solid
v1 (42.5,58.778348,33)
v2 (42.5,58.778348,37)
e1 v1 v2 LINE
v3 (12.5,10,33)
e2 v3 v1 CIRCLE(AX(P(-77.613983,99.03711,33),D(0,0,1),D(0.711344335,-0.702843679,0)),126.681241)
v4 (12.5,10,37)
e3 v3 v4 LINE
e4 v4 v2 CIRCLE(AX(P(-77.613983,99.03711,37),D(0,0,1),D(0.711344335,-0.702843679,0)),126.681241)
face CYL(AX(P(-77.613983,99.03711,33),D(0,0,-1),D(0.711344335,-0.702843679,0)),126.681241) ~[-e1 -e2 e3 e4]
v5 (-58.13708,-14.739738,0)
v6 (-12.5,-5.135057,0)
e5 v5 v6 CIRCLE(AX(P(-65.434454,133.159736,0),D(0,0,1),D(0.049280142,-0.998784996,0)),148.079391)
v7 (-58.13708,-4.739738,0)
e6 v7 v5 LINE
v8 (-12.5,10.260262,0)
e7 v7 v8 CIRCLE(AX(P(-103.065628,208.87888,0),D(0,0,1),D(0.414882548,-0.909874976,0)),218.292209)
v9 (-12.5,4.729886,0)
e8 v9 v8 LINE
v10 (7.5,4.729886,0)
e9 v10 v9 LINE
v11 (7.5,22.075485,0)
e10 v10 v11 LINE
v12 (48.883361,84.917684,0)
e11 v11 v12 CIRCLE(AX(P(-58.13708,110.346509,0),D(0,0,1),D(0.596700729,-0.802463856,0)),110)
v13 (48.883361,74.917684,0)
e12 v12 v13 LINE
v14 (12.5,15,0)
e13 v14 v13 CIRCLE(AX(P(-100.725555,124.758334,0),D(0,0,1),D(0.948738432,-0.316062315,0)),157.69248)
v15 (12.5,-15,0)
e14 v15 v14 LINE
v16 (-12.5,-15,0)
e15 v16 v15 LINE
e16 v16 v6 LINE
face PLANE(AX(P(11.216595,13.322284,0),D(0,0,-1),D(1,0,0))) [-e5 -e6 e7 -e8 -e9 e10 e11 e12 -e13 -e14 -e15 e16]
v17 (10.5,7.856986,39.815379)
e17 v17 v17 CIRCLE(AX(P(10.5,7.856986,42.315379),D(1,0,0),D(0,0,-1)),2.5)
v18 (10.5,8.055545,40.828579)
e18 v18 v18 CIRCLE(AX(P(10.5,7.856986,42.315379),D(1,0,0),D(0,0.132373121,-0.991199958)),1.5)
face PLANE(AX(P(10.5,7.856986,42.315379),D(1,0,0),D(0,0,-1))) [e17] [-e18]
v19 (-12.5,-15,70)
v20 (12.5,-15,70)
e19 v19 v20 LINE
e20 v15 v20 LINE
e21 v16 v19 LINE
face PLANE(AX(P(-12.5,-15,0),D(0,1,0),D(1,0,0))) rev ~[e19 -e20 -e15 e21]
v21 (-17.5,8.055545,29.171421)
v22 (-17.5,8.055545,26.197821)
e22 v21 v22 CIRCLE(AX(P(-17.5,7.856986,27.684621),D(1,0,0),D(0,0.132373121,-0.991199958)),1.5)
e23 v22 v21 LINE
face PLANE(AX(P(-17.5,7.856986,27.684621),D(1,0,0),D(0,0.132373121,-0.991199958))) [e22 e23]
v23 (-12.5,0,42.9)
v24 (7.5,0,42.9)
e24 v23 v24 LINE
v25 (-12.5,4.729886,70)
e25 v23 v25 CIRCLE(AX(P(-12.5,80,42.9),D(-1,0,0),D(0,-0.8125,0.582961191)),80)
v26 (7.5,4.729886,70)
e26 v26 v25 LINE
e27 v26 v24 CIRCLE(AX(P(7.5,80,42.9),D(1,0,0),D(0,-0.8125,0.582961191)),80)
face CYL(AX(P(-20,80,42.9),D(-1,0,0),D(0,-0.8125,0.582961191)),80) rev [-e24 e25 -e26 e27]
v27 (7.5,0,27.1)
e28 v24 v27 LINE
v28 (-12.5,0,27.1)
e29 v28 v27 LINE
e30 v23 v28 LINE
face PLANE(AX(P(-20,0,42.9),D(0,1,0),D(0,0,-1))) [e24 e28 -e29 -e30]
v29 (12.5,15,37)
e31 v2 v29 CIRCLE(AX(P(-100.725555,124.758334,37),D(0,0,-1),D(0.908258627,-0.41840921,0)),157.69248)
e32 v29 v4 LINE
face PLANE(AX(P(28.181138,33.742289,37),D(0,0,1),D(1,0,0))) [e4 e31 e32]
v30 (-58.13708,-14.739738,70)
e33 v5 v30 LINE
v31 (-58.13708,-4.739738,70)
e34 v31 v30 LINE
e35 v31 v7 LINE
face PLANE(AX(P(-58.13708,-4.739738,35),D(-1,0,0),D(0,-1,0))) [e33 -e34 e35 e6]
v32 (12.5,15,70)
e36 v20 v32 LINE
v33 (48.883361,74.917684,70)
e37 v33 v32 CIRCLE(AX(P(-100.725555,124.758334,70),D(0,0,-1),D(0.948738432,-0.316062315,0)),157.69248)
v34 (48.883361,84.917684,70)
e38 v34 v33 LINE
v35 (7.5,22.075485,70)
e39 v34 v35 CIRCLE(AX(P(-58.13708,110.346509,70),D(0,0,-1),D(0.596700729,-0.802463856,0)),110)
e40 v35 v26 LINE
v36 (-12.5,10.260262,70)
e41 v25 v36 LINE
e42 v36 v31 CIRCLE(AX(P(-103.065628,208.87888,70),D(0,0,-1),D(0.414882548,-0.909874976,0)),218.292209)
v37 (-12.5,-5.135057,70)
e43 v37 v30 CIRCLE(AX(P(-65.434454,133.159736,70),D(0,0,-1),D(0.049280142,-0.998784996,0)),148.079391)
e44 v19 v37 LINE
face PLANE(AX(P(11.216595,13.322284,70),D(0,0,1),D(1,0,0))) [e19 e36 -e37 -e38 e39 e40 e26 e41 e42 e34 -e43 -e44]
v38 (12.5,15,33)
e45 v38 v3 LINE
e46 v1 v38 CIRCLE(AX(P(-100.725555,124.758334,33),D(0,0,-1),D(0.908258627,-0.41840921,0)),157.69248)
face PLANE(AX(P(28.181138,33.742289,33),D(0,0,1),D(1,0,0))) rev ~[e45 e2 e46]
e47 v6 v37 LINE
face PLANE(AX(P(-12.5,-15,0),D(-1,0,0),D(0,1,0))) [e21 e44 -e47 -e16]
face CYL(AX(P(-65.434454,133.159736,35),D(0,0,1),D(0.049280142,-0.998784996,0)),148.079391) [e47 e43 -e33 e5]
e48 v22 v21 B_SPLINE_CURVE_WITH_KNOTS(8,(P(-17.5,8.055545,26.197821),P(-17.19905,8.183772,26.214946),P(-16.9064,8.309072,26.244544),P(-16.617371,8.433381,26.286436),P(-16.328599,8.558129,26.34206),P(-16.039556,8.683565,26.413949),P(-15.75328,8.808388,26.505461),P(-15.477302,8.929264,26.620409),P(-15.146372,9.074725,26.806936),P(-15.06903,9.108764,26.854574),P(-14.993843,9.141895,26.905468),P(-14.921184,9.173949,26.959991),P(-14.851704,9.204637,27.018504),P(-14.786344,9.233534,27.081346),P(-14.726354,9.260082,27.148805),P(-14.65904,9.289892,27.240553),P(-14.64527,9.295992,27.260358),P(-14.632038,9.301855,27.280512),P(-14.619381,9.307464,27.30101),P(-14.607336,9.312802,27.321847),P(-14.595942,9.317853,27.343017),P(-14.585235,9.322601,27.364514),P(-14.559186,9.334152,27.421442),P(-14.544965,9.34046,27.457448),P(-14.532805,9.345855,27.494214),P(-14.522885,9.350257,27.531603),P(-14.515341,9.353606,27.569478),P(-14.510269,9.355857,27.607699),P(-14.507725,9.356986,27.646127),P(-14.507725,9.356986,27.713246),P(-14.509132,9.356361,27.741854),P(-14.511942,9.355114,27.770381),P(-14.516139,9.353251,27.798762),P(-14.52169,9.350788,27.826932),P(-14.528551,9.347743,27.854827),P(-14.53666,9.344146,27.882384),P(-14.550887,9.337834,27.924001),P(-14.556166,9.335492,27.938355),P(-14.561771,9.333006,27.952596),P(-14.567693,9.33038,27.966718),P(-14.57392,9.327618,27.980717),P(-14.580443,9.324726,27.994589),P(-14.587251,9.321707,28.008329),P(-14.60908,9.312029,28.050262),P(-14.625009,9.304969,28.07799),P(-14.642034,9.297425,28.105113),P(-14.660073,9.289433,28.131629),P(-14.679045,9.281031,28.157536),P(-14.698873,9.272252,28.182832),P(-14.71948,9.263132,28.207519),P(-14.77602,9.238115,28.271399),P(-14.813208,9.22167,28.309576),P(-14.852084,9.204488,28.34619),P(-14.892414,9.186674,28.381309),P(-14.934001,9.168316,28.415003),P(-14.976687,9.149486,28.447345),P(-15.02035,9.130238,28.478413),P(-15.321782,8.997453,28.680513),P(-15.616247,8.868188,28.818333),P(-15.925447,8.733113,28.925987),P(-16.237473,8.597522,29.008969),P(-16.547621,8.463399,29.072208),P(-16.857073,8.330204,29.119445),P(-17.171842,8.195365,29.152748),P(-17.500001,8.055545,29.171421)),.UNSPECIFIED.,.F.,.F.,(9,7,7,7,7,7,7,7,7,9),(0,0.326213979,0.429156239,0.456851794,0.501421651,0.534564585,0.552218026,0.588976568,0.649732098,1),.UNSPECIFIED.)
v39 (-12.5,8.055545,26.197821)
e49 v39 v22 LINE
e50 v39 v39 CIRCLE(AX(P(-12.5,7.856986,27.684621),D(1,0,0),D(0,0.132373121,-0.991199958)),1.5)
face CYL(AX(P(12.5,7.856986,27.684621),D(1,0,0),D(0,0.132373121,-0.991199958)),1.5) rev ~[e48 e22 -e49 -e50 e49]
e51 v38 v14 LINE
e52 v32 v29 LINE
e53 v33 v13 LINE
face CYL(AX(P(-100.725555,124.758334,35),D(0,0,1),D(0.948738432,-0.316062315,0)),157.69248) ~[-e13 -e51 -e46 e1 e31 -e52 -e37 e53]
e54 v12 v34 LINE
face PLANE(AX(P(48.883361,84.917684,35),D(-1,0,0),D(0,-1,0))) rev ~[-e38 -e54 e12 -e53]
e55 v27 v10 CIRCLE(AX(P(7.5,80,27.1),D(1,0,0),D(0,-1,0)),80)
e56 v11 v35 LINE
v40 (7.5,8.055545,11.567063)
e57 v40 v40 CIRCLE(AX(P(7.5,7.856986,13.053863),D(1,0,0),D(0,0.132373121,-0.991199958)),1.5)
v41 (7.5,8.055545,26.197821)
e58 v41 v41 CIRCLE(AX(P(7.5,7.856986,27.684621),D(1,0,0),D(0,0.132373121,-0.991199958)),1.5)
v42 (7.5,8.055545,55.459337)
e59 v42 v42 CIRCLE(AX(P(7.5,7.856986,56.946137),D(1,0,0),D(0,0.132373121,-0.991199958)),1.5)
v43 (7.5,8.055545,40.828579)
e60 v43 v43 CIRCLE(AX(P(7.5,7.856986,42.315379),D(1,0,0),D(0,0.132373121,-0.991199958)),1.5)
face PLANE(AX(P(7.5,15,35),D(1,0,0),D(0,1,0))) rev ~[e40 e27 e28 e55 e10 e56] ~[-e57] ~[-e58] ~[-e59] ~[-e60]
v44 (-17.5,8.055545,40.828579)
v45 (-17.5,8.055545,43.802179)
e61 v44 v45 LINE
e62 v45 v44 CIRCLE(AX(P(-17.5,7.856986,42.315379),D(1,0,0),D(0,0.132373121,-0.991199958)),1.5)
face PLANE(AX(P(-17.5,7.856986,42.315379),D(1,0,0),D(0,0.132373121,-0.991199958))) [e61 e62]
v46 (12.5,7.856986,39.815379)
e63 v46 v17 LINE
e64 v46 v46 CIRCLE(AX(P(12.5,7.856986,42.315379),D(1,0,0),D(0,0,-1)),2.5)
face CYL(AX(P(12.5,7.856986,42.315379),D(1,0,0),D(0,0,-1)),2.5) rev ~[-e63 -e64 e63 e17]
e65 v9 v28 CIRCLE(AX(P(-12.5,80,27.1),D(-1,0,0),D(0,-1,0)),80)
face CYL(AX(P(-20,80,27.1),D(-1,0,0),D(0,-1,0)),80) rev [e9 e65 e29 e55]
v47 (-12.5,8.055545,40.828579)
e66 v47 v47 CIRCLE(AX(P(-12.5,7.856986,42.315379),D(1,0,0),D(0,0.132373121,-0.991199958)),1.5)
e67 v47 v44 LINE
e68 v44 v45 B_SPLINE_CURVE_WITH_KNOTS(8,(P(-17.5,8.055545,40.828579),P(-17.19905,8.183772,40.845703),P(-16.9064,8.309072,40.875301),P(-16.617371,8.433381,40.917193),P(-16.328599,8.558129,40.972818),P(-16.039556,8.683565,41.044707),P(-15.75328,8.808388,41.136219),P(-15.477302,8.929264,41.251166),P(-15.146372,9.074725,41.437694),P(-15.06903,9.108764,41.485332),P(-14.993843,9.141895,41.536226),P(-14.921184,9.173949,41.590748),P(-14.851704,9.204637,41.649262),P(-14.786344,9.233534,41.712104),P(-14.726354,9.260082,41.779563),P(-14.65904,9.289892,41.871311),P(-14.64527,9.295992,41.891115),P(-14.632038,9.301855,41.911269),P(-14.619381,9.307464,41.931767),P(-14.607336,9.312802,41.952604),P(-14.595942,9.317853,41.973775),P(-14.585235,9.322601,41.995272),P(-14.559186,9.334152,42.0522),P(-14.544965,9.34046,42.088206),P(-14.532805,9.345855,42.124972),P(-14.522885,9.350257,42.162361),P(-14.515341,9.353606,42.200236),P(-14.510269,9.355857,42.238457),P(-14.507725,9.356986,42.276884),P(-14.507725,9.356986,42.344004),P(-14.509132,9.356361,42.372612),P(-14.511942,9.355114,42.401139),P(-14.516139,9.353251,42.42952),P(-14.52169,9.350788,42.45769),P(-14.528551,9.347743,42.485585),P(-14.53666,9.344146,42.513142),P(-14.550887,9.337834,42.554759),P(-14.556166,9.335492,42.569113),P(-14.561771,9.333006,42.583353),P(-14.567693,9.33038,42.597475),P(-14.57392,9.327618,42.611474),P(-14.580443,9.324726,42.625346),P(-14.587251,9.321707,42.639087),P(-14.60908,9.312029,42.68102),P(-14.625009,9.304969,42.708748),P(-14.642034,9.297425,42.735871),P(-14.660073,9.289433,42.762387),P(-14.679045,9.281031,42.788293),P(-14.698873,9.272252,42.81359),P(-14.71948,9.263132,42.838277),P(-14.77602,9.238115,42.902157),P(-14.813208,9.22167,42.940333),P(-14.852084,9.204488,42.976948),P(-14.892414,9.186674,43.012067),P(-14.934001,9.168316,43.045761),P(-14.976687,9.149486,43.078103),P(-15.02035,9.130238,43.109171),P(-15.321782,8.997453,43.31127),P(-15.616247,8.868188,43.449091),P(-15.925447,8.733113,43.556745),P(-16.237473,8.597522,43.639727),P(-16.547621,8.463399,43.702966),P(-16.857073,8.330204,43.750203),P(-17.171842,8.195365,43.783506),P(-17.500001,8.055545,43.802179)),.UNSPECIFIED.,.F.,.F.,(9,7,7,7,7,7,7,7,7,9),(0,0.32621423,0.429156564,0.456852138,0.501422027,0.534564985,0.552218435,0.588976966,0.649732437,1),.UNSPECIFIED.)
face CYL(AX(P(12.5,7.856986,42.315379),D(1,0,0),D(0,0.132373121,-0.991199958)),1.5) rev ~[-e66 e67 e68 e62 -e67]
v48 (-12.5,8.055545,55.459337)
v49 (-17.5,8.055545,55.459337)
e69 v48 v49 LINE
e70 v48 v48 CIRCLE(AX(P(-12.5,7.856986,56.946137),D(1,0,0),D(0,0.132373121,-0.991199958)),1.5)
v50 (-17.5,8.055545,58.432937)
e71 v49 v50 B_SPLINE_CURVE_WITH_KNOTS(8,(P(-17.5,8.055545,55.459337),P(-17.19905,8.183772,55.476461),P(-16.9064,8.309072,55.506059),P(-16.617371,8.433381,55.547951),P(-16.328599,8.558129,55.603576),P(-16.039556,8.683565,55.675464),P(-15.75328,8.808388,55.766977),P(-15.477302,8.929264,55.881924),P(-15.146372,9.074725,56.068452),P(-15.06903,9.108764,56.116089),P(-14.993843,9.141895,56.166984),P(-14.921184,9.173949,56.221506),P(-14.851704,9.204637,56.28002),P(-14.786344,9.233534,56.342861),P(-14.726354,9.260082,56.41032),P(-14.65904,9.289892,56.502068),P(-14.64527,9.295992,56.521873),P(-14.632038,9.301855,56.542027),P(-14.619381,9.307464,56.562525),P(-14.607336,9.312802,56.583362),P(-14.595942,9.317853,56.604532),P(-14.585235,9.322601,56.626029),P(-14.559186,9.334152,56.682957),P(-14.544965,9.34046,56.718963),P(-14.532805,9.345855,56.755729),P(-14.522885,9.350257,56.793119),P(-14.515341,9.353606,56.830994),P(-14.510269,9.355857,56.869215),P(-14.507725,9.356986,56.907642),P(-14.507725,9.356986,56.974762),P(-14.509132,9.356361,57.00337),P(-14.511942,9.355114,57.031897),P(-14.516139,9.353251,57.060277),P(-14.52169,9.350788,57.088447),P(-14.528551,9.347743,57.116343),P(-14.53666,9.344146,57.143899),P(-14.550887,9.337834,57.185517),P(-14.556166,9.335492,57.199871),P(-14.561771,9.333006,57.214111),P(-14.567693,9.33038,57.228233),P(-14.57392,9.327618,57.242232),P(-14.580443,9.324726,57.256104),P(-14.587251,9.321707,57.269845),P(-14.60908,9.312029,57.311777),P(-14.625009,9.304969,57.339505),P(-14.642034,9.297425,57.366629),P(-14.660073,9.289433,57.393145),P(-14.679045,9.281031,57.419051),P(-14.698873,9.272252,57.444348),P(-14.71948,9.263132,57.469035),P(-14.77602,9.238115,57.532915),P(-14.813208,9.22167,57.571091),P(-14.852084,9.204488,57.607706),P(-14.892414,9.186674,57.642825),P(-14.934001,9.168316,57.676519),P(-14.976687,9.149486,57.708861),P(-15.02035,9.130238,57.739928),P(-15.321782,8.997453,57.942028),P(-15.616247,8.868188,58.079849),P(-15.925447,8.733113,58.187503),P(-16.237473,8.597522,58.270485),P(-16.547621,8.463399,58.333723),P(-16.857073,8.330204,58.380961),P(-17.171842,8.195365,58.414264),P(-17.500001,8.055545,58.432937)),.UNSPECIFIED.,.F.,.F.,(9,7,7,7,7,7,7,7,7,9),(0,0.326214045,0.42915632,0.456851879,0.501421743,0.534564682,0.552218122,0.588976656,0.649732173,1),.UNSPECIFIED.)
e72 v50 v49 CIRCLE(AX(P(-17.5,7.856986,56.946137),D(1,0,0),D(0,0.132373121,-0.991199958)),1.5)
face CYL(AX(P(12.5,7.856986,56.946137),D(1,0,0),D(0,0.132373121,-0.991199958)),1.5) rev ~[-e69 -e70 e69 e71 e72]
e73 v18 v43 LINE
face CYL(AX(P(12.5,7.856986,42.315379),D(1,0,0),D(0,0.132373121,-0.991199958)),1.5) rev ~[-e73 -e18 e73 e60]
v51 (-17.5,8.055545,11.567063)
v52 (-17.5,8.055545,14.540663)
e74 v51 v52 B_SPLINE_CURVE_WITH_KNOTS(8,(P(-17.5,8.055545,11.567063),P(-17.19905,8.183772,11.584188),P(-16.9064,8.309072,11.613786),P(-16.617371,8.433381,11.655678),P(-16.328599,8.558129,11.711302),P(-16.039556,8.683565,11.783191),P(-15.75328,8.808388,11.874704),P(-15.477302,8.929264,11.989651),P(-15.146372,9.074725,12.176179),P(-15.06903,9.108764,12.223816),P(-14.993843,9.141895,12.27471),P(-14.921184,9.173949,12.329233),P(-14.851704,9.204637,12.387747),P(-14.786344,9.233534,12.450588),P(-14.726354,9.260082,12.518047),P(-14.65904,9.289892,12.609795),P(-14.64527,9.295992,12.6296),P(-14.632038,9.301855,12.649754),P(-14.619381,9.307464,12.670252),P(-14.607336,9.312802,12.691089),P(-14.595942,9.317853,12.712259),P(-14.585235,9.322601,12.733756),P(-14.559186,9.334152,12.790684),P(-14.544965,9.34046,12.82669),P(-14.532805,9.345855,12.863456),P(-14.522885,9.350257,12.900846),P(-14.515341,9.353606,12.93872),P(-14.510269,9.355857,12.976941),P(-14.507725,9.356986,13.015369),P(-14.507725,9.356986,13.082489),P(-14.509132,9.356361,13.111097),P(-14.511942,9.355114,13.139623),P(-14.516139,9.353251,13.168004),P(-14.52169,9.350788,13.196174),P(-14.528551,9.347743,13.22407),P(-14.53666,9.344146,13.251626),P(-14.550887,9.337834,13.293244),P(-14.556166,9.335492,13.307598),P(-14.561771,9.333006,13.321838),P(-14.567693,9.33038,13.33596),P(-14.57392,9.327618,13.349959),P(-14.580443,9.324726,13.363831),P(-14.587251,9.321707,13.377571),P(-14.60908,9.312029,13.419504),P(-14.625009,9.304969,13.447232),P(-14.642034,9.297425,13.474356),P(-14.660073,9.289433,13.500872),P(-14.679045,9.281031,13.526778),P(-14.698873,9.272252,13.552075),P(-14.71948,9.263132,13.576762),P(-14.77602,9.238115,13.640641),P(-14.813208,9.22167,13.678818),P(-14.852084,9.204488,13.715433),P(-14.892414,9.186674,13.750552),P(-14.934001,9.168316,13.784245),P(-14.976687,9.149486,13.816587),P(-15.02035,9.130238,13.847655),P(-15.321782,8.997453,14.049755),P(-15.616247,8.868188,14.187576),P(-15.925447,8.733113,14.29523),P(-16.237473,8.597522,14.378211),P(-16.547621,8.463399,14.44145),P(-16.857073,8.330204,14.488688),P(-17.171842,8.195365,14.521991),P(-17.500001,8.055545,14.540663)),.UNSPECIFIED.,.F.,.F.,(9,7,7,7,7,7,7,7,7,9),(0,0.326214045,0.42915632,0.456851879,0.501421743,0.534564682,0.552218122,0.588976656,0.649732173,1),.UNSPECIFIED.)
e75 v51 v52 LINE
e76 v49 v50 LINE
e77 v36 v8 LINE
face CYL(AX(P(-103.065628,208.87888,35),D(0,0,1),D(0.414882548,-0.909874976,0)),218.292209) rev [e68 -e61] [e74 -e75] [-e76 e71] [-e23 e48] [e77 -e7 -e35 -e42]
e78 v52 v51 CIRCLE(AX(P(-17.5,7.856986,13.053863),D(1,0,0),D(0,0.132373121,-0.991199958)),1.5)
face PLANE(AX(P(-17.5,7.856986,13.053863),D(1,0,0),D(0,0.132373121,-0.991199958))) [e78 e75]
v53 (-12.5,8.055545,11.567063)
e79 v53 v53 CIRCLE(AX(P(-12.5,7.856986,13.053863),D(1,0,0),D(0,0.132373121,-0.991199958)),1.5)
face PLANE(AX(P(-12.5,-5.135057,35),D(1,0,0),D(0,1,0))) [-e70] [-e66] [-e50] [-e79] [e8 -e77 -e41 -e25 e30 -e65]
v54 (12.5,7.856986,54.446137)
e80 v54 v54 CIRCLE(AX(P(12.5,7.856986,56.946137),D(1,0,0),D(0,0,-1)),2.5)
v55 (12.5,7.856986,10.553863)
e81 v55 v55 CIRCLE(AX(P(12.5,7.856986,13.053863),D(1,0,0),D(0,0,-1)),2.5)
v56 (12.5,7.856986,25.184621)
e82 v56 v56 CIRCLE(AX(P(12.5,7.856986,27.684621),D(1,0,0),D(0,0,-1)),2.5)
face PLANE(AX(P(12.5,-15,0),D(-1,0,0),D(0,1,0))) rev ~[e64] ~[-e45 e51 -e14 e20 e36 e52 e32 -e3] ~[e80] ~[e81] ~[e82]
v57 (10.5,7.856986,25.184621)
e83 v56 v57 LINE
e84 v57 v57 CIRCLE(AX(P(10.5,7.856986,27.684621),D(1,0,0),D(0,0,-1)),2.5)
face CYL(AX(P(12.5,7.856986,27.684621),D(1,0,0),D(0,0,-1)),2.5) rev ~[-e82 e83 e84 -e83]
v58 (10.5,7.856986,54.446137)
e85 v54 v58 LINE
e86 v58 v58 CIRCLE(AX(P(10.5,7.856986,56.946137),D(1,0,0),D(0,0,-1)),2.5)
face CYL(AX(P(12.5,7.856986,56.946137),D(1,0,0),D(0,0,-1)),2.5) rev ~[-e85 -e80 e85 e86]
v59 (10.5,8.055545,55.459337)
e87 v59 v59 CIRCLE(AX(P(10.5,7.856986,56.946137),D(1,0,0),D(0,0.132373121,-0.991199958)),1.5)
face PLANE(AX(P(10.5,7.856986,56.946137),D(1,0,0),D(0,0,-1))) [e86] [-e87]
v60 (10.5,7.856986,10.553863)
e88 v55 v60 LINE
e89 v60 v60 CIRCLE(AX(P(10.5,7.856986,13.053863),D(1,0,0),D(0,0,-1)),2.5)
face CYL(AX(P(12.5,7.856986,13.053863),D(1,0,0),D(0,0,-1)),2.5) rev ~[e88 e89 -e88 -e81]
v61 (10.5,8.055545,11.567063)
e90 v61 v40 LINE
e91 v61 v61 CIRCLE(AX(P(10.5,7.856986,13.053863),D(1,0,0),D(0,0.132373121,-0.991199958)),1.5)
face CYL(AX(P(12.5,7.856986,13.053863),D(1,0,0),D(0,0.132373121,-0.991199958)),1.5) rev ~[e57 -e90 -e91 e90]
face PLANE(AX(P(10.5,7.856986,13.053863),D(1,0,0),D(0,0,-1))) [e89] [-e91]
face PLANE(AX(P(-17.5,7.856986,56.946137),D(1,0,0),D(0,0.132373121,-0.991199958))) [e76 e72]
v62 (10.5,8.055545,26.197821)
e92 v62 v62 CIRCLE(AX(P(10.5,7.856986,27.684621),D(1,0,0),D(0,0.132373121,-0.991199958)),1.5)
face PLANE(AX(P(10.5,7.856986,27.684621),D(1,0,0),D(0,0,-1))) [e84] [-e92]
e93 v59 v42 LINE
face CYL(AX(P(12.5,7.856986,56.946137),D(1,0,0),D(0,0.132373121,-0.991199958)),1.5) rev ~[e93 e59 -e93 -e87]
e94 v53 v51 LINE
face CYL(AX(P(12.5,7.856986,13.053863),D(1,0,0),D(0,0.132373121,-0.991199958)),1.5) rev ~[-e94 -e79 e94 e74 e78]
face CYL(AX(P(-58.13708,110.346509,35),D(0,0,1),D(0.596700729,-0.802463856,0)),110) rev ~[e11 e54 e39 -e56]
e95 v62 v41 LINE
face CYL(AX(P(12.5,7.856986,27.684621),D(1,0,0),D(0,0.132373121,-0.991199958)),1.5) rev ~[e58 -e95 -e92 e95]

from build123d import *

# Parameters (mm, degrees)
SKETCH_1_W                  = 25
SKETCH_1_H                  = 30
EXTRUDE_1_DEPTH             = 70
CUT_EXTRUDE_1_DEPTH         = 7.5
CUT_EXTRUDE_1_DEPTH_BACK    = 20
EXTRUDE_2_REACH             = 42.078
EXTRUDE_2_DIRECTION_2_REACH = 42.078
EXTRUDE_3_DEPTH             = 2
EXTRUDE_3_DEPTH_BACK        = 2
EXTRUDE_4_REACH             = 106.046
EXTRUDE_4_DIRECTION_2_REACH = 106.046
SKETCH_7_R                  = 1.5
CUT_EXTRUDE_2_DEPTH         = 30
SKETCH_8_R                  = 2.5
CUT_EXTRUDE_3_DEPTH         = 2


with BuildPart() as part:
    # 草图1 → 凸台-拉伸1 (new body)
    with BuildSketch(Plane.XY):
        Rectangle(SKETCH_1_W, SKETCH_1_H)
    extrude(amount=EXTRUDE_1_DEPTH)

    # 草图2 → 切除-拉伸1 (cut, two sides: drawn at the far end of the back side and taken through both)
    with BuildSketch(Plane(origin=(0, 0, 0), x_dir=(0, 0, -1), z_dir=(1, 0, 0)).offset(-CUT_EXTRUDE_1_DEPTH_BACK)):
        with BuildLine():
            Line((-42.9, 0), (-27.1, 0))
            ThreePointArc((-27.1, 0), (-2.605102572, 3.842268941), (19.536895265, 15))
            Line((19.536895265, 15), (-89.536895265, 15))
            ThreePointArc((-89.536895265, 15), (-67.394897428, 3.842268941), (-42.9, 0))
        make_face()
    extrude(amount=CUT_EXTRUDE_1_DEPTH + CUT_EXTRUDE_1_DEPTH_BACK, mode=Mode.SUBTRACT)

    # 凸台-拉伸2: up to this face of the body (flat: up to its plane)
    extrude_2_end = Plane(part.part.faces().sort_by_distance((0.942908229, -3.720694452, 70))[0])
    # 草图4 → 凸台-拉伸2 (add, up to the picked face)
    with BuildSketch(Plane.XY.offset(35), mode=Mode.PRIVATE) as extrude_2_sk1:
        with BuildLine():
            Line((48.883360942, 84.917683668), (48.883360942, 74.917683668))
            ThreePointArc((48.883360942, 74.917683668), (34.063250103, 42.911549159), (12.5, 15))
            Line((12.5, 15), (7.5, 15))
            Line((7.5, 15), (7.5, 22.075485157))
            ThreePointArc((7.5, 22.075485157), (33.732068033, 49.84808287), (48.883360942, 84.917683668))
        make_face()
    extrude_2_tool1 = split(extrude(extrude_2_sk1.sketch, amount=EXTRUDE_2_REACH, mode=Mode.PRIVATE), bisect_by=extrude_2_end, keep=Keep.BOTH, mode=Mode.PRIVATE)
    add(extrude_2_tool1.solids().sort_by(Axis((27.062711, 39.609343, 35), (0, 0, 1)))[0])

    # 凸台-拉伸2 direction 2: up to this face of the body (flat: up to its plane)
    extrude_2_direction_2_end = Plane(part.part.faces().sort_by_distance((0.942908229, -3.720694452, 0))[0])
    # 草图4 → 凸台-拉伸2 direction 2 (add, up to the picked face)
    with BuildSketch(Plane.XY.offset(35), mode=Mode.PRIVATE) as extrude_2_direction_2_sk1:
        with BuildLine():
            Line((48.883360942, 84.917683668), (48.883360942, 74.917683668))
            ThreePointArc((48.883360942, 74.917683668), (34.063250103, 42.911549159), (12.5, 15))
            Line((12.5, 15), (7.5, 15))
            Line((7.5, 15), (7.5, 22.075485157))
            ThreePointArc((7.5, 22.075485157), (33.732068033, 49.84808287), (48.883360942, 84.917683668))
        make_face()
    extrude_2_direction_2_tool1 = split(extrude(extrude_2_direction_2_sk1.sketch, amount=-EXTRUDE_2_DIRECTION_2_REACH, mode=Mode.PRIVATE), bisect_by=extrude_2_direction_2_end, keep=Keep.BOTH, mode=Mode.PRIVATE)
    add(extrude_2_direction_2_tool1.solids().sort_by(Axis((27.062711, 39.609343, 35), (0, 0, -1)))[0])

    # 草图5 → 凸台-拉伸3 (add, two sides: drawn at the far end of the back side and taken through both)
    with BuildSketch(Plane.XY.offset(35).offset(-EXTRUDE_3_DEPTH_BACK)):
        with BuildLine():
            Line((12.5, 15), (12.5, 10))
            ThreePointArc((12.5, 10), (30.292370974, 32.671790499), (42.5, 58.778347968))
            ThreePointArc((42.5, 58.778347968), (29.354915832, 35.618055325), (12.5, 15))
        make_face()
    extrude(amount=EXTRUDE_3_DEPTH + EXTRUDE_3_DEPTH_BACK)

    # 凸台-拉伸4: up to this face of the body (flat: up to its plane)
    extrude_4_end = Plane(part.part.faces().sort_by_distance((11.216595333, 13.322284496, 70))[0])
    # 草图6 → 凸台-拉伸4 (add, up to the picked face)
    with BuildSketch(Plane.XY.offset(35), mode=Mode.PRIVATE) as extrude_4_sk1:
        with BuildLine():
            Line((-58.137080228, -4.739738071), (-58.137080228, -14.739738071))
            ThreePointArc((-58.137080228, -14.739738071), (-34.938048555, -11.745320394), (-12.5, -5.135056795))
            Line((-12.5, -5.135056795), (-12.5, 10.260261929))
            ThreePointArc((-12.5, 10.260261929), (-34.904657371, 1.501035264), (-58.137080228, -4.739738071))
        make_face()
    extrude_4_tool1 = split(extrude(extrude_4_sk1.sketch, amount=EXTRUDE_4_REACH, mode=Mode.PRIVATE), bisect_by=extrude_4_end, keep=Keep.BOTH, mode=Mode.PRIVATE)
    add(extrude_4_tool1.solids().sort_by(Axis((-33.740556, -4.265759, 35), (0, 0, 1)))[0])

    # 凸台-拉伸4 direction 2: up to this face of the body (flat: up to its plane)
    extrude_4_direction_2_end = Plane(part.part.faces().sort_by_distance((11.216595333, 13.322284496, 0))[0])
    # 草图6 → 凸台-拉伸4 direction 2 (add, up to the picked face)
    with BuildSketch(Plane.XY.offset(35), mode=Mode.PRIVATE) as extrude_4_direction_2_sk1:
        with BuildLine():
            Line((-58.137080228, -4.739738071), (-58.137080228, -14.739738071))
            ThreePointArc((-58.137080228, -14.739738071), (-34.938048555, -11.745320394), (-12.5, -5.135056795))
            Line((-12.5, -5.135056795), (-12.5, 10.260261929))
            ThreePointArc((-12.5, 10.260261929), (-34.904657371, 1.501035264), (-58.137080228, -4.739738071))
        make_face()
    extrude_4_direction_2_tool1 = split(extrude(extrude_4_direction_2_sk1.sketch, amount=-EXTRUDE_4_DIRECTION_2_REACH, mode=Mode.PRIVATE), bisect_by=extrude_4_direction_2_end, keep=Keep.BOTH, mode=Mode.PRIVATE)
    add(extrude_4_direction_2_tool1.solids().sort_by(Axis((-33.740556, -4.265759, 35), (0, 0, -1)))[0])

    # 草图7 → 切除-拉伸2 (cut)
    with BuildSketch(Plane(origin=(12.5, 0, 0), x_dir=(0, 0, -1), z_dir=(1, 0, 0))):
        with Locations(Location((-27.684621138, 7.856985716, 0), (0, 0, 7.606747505))):
            Circle(SKETCH_7_R)
        with Locations(Location((-42.315378862, 7.856985716, 0), (0, 0, 7.606747505))):
            Circle(SKETCH_7_R)
        with Locations(Location((-56.946136586, 7.856985716, 0), (0, 0, 7.606747505))):
            Circle(SKETCH_7_R)
        with Locations(Location((-13.053863414, 7.856985716, 0), (0, 0, 7.606747505))):
            Circle(SKETCH_7_R)
    extrude(amount=-CUT_EXTRUDE_2_DEPTH, mode=Mode.SUBTRACT)

    # 草图8 → 切除-拉伸3 (cut)
    with BuildSketch(Plane(origin=(12.5, 0, 0), x_dir=(0, 0, -1), z_dir=(1, 0, 0))):
        with Locations((-56.946136586, 7.856985716)):
            Circle(SKETCH_8_R)
        with Locations((-42.315378862, 7.856985716)):
            Circle(SKETCH_8_R)
        with Locations((-27.684621138, 7.856985716)):
            Circle(SKETCH_8_R)
        with Locations((-13.053863414, 7.856985716)):
            Circle(SKETCH_8_R)
    extrude(amount=-CUT_EXTRUDE_3_DEPTH, mode=Mode.SUBTRACT)


solid = part.part
